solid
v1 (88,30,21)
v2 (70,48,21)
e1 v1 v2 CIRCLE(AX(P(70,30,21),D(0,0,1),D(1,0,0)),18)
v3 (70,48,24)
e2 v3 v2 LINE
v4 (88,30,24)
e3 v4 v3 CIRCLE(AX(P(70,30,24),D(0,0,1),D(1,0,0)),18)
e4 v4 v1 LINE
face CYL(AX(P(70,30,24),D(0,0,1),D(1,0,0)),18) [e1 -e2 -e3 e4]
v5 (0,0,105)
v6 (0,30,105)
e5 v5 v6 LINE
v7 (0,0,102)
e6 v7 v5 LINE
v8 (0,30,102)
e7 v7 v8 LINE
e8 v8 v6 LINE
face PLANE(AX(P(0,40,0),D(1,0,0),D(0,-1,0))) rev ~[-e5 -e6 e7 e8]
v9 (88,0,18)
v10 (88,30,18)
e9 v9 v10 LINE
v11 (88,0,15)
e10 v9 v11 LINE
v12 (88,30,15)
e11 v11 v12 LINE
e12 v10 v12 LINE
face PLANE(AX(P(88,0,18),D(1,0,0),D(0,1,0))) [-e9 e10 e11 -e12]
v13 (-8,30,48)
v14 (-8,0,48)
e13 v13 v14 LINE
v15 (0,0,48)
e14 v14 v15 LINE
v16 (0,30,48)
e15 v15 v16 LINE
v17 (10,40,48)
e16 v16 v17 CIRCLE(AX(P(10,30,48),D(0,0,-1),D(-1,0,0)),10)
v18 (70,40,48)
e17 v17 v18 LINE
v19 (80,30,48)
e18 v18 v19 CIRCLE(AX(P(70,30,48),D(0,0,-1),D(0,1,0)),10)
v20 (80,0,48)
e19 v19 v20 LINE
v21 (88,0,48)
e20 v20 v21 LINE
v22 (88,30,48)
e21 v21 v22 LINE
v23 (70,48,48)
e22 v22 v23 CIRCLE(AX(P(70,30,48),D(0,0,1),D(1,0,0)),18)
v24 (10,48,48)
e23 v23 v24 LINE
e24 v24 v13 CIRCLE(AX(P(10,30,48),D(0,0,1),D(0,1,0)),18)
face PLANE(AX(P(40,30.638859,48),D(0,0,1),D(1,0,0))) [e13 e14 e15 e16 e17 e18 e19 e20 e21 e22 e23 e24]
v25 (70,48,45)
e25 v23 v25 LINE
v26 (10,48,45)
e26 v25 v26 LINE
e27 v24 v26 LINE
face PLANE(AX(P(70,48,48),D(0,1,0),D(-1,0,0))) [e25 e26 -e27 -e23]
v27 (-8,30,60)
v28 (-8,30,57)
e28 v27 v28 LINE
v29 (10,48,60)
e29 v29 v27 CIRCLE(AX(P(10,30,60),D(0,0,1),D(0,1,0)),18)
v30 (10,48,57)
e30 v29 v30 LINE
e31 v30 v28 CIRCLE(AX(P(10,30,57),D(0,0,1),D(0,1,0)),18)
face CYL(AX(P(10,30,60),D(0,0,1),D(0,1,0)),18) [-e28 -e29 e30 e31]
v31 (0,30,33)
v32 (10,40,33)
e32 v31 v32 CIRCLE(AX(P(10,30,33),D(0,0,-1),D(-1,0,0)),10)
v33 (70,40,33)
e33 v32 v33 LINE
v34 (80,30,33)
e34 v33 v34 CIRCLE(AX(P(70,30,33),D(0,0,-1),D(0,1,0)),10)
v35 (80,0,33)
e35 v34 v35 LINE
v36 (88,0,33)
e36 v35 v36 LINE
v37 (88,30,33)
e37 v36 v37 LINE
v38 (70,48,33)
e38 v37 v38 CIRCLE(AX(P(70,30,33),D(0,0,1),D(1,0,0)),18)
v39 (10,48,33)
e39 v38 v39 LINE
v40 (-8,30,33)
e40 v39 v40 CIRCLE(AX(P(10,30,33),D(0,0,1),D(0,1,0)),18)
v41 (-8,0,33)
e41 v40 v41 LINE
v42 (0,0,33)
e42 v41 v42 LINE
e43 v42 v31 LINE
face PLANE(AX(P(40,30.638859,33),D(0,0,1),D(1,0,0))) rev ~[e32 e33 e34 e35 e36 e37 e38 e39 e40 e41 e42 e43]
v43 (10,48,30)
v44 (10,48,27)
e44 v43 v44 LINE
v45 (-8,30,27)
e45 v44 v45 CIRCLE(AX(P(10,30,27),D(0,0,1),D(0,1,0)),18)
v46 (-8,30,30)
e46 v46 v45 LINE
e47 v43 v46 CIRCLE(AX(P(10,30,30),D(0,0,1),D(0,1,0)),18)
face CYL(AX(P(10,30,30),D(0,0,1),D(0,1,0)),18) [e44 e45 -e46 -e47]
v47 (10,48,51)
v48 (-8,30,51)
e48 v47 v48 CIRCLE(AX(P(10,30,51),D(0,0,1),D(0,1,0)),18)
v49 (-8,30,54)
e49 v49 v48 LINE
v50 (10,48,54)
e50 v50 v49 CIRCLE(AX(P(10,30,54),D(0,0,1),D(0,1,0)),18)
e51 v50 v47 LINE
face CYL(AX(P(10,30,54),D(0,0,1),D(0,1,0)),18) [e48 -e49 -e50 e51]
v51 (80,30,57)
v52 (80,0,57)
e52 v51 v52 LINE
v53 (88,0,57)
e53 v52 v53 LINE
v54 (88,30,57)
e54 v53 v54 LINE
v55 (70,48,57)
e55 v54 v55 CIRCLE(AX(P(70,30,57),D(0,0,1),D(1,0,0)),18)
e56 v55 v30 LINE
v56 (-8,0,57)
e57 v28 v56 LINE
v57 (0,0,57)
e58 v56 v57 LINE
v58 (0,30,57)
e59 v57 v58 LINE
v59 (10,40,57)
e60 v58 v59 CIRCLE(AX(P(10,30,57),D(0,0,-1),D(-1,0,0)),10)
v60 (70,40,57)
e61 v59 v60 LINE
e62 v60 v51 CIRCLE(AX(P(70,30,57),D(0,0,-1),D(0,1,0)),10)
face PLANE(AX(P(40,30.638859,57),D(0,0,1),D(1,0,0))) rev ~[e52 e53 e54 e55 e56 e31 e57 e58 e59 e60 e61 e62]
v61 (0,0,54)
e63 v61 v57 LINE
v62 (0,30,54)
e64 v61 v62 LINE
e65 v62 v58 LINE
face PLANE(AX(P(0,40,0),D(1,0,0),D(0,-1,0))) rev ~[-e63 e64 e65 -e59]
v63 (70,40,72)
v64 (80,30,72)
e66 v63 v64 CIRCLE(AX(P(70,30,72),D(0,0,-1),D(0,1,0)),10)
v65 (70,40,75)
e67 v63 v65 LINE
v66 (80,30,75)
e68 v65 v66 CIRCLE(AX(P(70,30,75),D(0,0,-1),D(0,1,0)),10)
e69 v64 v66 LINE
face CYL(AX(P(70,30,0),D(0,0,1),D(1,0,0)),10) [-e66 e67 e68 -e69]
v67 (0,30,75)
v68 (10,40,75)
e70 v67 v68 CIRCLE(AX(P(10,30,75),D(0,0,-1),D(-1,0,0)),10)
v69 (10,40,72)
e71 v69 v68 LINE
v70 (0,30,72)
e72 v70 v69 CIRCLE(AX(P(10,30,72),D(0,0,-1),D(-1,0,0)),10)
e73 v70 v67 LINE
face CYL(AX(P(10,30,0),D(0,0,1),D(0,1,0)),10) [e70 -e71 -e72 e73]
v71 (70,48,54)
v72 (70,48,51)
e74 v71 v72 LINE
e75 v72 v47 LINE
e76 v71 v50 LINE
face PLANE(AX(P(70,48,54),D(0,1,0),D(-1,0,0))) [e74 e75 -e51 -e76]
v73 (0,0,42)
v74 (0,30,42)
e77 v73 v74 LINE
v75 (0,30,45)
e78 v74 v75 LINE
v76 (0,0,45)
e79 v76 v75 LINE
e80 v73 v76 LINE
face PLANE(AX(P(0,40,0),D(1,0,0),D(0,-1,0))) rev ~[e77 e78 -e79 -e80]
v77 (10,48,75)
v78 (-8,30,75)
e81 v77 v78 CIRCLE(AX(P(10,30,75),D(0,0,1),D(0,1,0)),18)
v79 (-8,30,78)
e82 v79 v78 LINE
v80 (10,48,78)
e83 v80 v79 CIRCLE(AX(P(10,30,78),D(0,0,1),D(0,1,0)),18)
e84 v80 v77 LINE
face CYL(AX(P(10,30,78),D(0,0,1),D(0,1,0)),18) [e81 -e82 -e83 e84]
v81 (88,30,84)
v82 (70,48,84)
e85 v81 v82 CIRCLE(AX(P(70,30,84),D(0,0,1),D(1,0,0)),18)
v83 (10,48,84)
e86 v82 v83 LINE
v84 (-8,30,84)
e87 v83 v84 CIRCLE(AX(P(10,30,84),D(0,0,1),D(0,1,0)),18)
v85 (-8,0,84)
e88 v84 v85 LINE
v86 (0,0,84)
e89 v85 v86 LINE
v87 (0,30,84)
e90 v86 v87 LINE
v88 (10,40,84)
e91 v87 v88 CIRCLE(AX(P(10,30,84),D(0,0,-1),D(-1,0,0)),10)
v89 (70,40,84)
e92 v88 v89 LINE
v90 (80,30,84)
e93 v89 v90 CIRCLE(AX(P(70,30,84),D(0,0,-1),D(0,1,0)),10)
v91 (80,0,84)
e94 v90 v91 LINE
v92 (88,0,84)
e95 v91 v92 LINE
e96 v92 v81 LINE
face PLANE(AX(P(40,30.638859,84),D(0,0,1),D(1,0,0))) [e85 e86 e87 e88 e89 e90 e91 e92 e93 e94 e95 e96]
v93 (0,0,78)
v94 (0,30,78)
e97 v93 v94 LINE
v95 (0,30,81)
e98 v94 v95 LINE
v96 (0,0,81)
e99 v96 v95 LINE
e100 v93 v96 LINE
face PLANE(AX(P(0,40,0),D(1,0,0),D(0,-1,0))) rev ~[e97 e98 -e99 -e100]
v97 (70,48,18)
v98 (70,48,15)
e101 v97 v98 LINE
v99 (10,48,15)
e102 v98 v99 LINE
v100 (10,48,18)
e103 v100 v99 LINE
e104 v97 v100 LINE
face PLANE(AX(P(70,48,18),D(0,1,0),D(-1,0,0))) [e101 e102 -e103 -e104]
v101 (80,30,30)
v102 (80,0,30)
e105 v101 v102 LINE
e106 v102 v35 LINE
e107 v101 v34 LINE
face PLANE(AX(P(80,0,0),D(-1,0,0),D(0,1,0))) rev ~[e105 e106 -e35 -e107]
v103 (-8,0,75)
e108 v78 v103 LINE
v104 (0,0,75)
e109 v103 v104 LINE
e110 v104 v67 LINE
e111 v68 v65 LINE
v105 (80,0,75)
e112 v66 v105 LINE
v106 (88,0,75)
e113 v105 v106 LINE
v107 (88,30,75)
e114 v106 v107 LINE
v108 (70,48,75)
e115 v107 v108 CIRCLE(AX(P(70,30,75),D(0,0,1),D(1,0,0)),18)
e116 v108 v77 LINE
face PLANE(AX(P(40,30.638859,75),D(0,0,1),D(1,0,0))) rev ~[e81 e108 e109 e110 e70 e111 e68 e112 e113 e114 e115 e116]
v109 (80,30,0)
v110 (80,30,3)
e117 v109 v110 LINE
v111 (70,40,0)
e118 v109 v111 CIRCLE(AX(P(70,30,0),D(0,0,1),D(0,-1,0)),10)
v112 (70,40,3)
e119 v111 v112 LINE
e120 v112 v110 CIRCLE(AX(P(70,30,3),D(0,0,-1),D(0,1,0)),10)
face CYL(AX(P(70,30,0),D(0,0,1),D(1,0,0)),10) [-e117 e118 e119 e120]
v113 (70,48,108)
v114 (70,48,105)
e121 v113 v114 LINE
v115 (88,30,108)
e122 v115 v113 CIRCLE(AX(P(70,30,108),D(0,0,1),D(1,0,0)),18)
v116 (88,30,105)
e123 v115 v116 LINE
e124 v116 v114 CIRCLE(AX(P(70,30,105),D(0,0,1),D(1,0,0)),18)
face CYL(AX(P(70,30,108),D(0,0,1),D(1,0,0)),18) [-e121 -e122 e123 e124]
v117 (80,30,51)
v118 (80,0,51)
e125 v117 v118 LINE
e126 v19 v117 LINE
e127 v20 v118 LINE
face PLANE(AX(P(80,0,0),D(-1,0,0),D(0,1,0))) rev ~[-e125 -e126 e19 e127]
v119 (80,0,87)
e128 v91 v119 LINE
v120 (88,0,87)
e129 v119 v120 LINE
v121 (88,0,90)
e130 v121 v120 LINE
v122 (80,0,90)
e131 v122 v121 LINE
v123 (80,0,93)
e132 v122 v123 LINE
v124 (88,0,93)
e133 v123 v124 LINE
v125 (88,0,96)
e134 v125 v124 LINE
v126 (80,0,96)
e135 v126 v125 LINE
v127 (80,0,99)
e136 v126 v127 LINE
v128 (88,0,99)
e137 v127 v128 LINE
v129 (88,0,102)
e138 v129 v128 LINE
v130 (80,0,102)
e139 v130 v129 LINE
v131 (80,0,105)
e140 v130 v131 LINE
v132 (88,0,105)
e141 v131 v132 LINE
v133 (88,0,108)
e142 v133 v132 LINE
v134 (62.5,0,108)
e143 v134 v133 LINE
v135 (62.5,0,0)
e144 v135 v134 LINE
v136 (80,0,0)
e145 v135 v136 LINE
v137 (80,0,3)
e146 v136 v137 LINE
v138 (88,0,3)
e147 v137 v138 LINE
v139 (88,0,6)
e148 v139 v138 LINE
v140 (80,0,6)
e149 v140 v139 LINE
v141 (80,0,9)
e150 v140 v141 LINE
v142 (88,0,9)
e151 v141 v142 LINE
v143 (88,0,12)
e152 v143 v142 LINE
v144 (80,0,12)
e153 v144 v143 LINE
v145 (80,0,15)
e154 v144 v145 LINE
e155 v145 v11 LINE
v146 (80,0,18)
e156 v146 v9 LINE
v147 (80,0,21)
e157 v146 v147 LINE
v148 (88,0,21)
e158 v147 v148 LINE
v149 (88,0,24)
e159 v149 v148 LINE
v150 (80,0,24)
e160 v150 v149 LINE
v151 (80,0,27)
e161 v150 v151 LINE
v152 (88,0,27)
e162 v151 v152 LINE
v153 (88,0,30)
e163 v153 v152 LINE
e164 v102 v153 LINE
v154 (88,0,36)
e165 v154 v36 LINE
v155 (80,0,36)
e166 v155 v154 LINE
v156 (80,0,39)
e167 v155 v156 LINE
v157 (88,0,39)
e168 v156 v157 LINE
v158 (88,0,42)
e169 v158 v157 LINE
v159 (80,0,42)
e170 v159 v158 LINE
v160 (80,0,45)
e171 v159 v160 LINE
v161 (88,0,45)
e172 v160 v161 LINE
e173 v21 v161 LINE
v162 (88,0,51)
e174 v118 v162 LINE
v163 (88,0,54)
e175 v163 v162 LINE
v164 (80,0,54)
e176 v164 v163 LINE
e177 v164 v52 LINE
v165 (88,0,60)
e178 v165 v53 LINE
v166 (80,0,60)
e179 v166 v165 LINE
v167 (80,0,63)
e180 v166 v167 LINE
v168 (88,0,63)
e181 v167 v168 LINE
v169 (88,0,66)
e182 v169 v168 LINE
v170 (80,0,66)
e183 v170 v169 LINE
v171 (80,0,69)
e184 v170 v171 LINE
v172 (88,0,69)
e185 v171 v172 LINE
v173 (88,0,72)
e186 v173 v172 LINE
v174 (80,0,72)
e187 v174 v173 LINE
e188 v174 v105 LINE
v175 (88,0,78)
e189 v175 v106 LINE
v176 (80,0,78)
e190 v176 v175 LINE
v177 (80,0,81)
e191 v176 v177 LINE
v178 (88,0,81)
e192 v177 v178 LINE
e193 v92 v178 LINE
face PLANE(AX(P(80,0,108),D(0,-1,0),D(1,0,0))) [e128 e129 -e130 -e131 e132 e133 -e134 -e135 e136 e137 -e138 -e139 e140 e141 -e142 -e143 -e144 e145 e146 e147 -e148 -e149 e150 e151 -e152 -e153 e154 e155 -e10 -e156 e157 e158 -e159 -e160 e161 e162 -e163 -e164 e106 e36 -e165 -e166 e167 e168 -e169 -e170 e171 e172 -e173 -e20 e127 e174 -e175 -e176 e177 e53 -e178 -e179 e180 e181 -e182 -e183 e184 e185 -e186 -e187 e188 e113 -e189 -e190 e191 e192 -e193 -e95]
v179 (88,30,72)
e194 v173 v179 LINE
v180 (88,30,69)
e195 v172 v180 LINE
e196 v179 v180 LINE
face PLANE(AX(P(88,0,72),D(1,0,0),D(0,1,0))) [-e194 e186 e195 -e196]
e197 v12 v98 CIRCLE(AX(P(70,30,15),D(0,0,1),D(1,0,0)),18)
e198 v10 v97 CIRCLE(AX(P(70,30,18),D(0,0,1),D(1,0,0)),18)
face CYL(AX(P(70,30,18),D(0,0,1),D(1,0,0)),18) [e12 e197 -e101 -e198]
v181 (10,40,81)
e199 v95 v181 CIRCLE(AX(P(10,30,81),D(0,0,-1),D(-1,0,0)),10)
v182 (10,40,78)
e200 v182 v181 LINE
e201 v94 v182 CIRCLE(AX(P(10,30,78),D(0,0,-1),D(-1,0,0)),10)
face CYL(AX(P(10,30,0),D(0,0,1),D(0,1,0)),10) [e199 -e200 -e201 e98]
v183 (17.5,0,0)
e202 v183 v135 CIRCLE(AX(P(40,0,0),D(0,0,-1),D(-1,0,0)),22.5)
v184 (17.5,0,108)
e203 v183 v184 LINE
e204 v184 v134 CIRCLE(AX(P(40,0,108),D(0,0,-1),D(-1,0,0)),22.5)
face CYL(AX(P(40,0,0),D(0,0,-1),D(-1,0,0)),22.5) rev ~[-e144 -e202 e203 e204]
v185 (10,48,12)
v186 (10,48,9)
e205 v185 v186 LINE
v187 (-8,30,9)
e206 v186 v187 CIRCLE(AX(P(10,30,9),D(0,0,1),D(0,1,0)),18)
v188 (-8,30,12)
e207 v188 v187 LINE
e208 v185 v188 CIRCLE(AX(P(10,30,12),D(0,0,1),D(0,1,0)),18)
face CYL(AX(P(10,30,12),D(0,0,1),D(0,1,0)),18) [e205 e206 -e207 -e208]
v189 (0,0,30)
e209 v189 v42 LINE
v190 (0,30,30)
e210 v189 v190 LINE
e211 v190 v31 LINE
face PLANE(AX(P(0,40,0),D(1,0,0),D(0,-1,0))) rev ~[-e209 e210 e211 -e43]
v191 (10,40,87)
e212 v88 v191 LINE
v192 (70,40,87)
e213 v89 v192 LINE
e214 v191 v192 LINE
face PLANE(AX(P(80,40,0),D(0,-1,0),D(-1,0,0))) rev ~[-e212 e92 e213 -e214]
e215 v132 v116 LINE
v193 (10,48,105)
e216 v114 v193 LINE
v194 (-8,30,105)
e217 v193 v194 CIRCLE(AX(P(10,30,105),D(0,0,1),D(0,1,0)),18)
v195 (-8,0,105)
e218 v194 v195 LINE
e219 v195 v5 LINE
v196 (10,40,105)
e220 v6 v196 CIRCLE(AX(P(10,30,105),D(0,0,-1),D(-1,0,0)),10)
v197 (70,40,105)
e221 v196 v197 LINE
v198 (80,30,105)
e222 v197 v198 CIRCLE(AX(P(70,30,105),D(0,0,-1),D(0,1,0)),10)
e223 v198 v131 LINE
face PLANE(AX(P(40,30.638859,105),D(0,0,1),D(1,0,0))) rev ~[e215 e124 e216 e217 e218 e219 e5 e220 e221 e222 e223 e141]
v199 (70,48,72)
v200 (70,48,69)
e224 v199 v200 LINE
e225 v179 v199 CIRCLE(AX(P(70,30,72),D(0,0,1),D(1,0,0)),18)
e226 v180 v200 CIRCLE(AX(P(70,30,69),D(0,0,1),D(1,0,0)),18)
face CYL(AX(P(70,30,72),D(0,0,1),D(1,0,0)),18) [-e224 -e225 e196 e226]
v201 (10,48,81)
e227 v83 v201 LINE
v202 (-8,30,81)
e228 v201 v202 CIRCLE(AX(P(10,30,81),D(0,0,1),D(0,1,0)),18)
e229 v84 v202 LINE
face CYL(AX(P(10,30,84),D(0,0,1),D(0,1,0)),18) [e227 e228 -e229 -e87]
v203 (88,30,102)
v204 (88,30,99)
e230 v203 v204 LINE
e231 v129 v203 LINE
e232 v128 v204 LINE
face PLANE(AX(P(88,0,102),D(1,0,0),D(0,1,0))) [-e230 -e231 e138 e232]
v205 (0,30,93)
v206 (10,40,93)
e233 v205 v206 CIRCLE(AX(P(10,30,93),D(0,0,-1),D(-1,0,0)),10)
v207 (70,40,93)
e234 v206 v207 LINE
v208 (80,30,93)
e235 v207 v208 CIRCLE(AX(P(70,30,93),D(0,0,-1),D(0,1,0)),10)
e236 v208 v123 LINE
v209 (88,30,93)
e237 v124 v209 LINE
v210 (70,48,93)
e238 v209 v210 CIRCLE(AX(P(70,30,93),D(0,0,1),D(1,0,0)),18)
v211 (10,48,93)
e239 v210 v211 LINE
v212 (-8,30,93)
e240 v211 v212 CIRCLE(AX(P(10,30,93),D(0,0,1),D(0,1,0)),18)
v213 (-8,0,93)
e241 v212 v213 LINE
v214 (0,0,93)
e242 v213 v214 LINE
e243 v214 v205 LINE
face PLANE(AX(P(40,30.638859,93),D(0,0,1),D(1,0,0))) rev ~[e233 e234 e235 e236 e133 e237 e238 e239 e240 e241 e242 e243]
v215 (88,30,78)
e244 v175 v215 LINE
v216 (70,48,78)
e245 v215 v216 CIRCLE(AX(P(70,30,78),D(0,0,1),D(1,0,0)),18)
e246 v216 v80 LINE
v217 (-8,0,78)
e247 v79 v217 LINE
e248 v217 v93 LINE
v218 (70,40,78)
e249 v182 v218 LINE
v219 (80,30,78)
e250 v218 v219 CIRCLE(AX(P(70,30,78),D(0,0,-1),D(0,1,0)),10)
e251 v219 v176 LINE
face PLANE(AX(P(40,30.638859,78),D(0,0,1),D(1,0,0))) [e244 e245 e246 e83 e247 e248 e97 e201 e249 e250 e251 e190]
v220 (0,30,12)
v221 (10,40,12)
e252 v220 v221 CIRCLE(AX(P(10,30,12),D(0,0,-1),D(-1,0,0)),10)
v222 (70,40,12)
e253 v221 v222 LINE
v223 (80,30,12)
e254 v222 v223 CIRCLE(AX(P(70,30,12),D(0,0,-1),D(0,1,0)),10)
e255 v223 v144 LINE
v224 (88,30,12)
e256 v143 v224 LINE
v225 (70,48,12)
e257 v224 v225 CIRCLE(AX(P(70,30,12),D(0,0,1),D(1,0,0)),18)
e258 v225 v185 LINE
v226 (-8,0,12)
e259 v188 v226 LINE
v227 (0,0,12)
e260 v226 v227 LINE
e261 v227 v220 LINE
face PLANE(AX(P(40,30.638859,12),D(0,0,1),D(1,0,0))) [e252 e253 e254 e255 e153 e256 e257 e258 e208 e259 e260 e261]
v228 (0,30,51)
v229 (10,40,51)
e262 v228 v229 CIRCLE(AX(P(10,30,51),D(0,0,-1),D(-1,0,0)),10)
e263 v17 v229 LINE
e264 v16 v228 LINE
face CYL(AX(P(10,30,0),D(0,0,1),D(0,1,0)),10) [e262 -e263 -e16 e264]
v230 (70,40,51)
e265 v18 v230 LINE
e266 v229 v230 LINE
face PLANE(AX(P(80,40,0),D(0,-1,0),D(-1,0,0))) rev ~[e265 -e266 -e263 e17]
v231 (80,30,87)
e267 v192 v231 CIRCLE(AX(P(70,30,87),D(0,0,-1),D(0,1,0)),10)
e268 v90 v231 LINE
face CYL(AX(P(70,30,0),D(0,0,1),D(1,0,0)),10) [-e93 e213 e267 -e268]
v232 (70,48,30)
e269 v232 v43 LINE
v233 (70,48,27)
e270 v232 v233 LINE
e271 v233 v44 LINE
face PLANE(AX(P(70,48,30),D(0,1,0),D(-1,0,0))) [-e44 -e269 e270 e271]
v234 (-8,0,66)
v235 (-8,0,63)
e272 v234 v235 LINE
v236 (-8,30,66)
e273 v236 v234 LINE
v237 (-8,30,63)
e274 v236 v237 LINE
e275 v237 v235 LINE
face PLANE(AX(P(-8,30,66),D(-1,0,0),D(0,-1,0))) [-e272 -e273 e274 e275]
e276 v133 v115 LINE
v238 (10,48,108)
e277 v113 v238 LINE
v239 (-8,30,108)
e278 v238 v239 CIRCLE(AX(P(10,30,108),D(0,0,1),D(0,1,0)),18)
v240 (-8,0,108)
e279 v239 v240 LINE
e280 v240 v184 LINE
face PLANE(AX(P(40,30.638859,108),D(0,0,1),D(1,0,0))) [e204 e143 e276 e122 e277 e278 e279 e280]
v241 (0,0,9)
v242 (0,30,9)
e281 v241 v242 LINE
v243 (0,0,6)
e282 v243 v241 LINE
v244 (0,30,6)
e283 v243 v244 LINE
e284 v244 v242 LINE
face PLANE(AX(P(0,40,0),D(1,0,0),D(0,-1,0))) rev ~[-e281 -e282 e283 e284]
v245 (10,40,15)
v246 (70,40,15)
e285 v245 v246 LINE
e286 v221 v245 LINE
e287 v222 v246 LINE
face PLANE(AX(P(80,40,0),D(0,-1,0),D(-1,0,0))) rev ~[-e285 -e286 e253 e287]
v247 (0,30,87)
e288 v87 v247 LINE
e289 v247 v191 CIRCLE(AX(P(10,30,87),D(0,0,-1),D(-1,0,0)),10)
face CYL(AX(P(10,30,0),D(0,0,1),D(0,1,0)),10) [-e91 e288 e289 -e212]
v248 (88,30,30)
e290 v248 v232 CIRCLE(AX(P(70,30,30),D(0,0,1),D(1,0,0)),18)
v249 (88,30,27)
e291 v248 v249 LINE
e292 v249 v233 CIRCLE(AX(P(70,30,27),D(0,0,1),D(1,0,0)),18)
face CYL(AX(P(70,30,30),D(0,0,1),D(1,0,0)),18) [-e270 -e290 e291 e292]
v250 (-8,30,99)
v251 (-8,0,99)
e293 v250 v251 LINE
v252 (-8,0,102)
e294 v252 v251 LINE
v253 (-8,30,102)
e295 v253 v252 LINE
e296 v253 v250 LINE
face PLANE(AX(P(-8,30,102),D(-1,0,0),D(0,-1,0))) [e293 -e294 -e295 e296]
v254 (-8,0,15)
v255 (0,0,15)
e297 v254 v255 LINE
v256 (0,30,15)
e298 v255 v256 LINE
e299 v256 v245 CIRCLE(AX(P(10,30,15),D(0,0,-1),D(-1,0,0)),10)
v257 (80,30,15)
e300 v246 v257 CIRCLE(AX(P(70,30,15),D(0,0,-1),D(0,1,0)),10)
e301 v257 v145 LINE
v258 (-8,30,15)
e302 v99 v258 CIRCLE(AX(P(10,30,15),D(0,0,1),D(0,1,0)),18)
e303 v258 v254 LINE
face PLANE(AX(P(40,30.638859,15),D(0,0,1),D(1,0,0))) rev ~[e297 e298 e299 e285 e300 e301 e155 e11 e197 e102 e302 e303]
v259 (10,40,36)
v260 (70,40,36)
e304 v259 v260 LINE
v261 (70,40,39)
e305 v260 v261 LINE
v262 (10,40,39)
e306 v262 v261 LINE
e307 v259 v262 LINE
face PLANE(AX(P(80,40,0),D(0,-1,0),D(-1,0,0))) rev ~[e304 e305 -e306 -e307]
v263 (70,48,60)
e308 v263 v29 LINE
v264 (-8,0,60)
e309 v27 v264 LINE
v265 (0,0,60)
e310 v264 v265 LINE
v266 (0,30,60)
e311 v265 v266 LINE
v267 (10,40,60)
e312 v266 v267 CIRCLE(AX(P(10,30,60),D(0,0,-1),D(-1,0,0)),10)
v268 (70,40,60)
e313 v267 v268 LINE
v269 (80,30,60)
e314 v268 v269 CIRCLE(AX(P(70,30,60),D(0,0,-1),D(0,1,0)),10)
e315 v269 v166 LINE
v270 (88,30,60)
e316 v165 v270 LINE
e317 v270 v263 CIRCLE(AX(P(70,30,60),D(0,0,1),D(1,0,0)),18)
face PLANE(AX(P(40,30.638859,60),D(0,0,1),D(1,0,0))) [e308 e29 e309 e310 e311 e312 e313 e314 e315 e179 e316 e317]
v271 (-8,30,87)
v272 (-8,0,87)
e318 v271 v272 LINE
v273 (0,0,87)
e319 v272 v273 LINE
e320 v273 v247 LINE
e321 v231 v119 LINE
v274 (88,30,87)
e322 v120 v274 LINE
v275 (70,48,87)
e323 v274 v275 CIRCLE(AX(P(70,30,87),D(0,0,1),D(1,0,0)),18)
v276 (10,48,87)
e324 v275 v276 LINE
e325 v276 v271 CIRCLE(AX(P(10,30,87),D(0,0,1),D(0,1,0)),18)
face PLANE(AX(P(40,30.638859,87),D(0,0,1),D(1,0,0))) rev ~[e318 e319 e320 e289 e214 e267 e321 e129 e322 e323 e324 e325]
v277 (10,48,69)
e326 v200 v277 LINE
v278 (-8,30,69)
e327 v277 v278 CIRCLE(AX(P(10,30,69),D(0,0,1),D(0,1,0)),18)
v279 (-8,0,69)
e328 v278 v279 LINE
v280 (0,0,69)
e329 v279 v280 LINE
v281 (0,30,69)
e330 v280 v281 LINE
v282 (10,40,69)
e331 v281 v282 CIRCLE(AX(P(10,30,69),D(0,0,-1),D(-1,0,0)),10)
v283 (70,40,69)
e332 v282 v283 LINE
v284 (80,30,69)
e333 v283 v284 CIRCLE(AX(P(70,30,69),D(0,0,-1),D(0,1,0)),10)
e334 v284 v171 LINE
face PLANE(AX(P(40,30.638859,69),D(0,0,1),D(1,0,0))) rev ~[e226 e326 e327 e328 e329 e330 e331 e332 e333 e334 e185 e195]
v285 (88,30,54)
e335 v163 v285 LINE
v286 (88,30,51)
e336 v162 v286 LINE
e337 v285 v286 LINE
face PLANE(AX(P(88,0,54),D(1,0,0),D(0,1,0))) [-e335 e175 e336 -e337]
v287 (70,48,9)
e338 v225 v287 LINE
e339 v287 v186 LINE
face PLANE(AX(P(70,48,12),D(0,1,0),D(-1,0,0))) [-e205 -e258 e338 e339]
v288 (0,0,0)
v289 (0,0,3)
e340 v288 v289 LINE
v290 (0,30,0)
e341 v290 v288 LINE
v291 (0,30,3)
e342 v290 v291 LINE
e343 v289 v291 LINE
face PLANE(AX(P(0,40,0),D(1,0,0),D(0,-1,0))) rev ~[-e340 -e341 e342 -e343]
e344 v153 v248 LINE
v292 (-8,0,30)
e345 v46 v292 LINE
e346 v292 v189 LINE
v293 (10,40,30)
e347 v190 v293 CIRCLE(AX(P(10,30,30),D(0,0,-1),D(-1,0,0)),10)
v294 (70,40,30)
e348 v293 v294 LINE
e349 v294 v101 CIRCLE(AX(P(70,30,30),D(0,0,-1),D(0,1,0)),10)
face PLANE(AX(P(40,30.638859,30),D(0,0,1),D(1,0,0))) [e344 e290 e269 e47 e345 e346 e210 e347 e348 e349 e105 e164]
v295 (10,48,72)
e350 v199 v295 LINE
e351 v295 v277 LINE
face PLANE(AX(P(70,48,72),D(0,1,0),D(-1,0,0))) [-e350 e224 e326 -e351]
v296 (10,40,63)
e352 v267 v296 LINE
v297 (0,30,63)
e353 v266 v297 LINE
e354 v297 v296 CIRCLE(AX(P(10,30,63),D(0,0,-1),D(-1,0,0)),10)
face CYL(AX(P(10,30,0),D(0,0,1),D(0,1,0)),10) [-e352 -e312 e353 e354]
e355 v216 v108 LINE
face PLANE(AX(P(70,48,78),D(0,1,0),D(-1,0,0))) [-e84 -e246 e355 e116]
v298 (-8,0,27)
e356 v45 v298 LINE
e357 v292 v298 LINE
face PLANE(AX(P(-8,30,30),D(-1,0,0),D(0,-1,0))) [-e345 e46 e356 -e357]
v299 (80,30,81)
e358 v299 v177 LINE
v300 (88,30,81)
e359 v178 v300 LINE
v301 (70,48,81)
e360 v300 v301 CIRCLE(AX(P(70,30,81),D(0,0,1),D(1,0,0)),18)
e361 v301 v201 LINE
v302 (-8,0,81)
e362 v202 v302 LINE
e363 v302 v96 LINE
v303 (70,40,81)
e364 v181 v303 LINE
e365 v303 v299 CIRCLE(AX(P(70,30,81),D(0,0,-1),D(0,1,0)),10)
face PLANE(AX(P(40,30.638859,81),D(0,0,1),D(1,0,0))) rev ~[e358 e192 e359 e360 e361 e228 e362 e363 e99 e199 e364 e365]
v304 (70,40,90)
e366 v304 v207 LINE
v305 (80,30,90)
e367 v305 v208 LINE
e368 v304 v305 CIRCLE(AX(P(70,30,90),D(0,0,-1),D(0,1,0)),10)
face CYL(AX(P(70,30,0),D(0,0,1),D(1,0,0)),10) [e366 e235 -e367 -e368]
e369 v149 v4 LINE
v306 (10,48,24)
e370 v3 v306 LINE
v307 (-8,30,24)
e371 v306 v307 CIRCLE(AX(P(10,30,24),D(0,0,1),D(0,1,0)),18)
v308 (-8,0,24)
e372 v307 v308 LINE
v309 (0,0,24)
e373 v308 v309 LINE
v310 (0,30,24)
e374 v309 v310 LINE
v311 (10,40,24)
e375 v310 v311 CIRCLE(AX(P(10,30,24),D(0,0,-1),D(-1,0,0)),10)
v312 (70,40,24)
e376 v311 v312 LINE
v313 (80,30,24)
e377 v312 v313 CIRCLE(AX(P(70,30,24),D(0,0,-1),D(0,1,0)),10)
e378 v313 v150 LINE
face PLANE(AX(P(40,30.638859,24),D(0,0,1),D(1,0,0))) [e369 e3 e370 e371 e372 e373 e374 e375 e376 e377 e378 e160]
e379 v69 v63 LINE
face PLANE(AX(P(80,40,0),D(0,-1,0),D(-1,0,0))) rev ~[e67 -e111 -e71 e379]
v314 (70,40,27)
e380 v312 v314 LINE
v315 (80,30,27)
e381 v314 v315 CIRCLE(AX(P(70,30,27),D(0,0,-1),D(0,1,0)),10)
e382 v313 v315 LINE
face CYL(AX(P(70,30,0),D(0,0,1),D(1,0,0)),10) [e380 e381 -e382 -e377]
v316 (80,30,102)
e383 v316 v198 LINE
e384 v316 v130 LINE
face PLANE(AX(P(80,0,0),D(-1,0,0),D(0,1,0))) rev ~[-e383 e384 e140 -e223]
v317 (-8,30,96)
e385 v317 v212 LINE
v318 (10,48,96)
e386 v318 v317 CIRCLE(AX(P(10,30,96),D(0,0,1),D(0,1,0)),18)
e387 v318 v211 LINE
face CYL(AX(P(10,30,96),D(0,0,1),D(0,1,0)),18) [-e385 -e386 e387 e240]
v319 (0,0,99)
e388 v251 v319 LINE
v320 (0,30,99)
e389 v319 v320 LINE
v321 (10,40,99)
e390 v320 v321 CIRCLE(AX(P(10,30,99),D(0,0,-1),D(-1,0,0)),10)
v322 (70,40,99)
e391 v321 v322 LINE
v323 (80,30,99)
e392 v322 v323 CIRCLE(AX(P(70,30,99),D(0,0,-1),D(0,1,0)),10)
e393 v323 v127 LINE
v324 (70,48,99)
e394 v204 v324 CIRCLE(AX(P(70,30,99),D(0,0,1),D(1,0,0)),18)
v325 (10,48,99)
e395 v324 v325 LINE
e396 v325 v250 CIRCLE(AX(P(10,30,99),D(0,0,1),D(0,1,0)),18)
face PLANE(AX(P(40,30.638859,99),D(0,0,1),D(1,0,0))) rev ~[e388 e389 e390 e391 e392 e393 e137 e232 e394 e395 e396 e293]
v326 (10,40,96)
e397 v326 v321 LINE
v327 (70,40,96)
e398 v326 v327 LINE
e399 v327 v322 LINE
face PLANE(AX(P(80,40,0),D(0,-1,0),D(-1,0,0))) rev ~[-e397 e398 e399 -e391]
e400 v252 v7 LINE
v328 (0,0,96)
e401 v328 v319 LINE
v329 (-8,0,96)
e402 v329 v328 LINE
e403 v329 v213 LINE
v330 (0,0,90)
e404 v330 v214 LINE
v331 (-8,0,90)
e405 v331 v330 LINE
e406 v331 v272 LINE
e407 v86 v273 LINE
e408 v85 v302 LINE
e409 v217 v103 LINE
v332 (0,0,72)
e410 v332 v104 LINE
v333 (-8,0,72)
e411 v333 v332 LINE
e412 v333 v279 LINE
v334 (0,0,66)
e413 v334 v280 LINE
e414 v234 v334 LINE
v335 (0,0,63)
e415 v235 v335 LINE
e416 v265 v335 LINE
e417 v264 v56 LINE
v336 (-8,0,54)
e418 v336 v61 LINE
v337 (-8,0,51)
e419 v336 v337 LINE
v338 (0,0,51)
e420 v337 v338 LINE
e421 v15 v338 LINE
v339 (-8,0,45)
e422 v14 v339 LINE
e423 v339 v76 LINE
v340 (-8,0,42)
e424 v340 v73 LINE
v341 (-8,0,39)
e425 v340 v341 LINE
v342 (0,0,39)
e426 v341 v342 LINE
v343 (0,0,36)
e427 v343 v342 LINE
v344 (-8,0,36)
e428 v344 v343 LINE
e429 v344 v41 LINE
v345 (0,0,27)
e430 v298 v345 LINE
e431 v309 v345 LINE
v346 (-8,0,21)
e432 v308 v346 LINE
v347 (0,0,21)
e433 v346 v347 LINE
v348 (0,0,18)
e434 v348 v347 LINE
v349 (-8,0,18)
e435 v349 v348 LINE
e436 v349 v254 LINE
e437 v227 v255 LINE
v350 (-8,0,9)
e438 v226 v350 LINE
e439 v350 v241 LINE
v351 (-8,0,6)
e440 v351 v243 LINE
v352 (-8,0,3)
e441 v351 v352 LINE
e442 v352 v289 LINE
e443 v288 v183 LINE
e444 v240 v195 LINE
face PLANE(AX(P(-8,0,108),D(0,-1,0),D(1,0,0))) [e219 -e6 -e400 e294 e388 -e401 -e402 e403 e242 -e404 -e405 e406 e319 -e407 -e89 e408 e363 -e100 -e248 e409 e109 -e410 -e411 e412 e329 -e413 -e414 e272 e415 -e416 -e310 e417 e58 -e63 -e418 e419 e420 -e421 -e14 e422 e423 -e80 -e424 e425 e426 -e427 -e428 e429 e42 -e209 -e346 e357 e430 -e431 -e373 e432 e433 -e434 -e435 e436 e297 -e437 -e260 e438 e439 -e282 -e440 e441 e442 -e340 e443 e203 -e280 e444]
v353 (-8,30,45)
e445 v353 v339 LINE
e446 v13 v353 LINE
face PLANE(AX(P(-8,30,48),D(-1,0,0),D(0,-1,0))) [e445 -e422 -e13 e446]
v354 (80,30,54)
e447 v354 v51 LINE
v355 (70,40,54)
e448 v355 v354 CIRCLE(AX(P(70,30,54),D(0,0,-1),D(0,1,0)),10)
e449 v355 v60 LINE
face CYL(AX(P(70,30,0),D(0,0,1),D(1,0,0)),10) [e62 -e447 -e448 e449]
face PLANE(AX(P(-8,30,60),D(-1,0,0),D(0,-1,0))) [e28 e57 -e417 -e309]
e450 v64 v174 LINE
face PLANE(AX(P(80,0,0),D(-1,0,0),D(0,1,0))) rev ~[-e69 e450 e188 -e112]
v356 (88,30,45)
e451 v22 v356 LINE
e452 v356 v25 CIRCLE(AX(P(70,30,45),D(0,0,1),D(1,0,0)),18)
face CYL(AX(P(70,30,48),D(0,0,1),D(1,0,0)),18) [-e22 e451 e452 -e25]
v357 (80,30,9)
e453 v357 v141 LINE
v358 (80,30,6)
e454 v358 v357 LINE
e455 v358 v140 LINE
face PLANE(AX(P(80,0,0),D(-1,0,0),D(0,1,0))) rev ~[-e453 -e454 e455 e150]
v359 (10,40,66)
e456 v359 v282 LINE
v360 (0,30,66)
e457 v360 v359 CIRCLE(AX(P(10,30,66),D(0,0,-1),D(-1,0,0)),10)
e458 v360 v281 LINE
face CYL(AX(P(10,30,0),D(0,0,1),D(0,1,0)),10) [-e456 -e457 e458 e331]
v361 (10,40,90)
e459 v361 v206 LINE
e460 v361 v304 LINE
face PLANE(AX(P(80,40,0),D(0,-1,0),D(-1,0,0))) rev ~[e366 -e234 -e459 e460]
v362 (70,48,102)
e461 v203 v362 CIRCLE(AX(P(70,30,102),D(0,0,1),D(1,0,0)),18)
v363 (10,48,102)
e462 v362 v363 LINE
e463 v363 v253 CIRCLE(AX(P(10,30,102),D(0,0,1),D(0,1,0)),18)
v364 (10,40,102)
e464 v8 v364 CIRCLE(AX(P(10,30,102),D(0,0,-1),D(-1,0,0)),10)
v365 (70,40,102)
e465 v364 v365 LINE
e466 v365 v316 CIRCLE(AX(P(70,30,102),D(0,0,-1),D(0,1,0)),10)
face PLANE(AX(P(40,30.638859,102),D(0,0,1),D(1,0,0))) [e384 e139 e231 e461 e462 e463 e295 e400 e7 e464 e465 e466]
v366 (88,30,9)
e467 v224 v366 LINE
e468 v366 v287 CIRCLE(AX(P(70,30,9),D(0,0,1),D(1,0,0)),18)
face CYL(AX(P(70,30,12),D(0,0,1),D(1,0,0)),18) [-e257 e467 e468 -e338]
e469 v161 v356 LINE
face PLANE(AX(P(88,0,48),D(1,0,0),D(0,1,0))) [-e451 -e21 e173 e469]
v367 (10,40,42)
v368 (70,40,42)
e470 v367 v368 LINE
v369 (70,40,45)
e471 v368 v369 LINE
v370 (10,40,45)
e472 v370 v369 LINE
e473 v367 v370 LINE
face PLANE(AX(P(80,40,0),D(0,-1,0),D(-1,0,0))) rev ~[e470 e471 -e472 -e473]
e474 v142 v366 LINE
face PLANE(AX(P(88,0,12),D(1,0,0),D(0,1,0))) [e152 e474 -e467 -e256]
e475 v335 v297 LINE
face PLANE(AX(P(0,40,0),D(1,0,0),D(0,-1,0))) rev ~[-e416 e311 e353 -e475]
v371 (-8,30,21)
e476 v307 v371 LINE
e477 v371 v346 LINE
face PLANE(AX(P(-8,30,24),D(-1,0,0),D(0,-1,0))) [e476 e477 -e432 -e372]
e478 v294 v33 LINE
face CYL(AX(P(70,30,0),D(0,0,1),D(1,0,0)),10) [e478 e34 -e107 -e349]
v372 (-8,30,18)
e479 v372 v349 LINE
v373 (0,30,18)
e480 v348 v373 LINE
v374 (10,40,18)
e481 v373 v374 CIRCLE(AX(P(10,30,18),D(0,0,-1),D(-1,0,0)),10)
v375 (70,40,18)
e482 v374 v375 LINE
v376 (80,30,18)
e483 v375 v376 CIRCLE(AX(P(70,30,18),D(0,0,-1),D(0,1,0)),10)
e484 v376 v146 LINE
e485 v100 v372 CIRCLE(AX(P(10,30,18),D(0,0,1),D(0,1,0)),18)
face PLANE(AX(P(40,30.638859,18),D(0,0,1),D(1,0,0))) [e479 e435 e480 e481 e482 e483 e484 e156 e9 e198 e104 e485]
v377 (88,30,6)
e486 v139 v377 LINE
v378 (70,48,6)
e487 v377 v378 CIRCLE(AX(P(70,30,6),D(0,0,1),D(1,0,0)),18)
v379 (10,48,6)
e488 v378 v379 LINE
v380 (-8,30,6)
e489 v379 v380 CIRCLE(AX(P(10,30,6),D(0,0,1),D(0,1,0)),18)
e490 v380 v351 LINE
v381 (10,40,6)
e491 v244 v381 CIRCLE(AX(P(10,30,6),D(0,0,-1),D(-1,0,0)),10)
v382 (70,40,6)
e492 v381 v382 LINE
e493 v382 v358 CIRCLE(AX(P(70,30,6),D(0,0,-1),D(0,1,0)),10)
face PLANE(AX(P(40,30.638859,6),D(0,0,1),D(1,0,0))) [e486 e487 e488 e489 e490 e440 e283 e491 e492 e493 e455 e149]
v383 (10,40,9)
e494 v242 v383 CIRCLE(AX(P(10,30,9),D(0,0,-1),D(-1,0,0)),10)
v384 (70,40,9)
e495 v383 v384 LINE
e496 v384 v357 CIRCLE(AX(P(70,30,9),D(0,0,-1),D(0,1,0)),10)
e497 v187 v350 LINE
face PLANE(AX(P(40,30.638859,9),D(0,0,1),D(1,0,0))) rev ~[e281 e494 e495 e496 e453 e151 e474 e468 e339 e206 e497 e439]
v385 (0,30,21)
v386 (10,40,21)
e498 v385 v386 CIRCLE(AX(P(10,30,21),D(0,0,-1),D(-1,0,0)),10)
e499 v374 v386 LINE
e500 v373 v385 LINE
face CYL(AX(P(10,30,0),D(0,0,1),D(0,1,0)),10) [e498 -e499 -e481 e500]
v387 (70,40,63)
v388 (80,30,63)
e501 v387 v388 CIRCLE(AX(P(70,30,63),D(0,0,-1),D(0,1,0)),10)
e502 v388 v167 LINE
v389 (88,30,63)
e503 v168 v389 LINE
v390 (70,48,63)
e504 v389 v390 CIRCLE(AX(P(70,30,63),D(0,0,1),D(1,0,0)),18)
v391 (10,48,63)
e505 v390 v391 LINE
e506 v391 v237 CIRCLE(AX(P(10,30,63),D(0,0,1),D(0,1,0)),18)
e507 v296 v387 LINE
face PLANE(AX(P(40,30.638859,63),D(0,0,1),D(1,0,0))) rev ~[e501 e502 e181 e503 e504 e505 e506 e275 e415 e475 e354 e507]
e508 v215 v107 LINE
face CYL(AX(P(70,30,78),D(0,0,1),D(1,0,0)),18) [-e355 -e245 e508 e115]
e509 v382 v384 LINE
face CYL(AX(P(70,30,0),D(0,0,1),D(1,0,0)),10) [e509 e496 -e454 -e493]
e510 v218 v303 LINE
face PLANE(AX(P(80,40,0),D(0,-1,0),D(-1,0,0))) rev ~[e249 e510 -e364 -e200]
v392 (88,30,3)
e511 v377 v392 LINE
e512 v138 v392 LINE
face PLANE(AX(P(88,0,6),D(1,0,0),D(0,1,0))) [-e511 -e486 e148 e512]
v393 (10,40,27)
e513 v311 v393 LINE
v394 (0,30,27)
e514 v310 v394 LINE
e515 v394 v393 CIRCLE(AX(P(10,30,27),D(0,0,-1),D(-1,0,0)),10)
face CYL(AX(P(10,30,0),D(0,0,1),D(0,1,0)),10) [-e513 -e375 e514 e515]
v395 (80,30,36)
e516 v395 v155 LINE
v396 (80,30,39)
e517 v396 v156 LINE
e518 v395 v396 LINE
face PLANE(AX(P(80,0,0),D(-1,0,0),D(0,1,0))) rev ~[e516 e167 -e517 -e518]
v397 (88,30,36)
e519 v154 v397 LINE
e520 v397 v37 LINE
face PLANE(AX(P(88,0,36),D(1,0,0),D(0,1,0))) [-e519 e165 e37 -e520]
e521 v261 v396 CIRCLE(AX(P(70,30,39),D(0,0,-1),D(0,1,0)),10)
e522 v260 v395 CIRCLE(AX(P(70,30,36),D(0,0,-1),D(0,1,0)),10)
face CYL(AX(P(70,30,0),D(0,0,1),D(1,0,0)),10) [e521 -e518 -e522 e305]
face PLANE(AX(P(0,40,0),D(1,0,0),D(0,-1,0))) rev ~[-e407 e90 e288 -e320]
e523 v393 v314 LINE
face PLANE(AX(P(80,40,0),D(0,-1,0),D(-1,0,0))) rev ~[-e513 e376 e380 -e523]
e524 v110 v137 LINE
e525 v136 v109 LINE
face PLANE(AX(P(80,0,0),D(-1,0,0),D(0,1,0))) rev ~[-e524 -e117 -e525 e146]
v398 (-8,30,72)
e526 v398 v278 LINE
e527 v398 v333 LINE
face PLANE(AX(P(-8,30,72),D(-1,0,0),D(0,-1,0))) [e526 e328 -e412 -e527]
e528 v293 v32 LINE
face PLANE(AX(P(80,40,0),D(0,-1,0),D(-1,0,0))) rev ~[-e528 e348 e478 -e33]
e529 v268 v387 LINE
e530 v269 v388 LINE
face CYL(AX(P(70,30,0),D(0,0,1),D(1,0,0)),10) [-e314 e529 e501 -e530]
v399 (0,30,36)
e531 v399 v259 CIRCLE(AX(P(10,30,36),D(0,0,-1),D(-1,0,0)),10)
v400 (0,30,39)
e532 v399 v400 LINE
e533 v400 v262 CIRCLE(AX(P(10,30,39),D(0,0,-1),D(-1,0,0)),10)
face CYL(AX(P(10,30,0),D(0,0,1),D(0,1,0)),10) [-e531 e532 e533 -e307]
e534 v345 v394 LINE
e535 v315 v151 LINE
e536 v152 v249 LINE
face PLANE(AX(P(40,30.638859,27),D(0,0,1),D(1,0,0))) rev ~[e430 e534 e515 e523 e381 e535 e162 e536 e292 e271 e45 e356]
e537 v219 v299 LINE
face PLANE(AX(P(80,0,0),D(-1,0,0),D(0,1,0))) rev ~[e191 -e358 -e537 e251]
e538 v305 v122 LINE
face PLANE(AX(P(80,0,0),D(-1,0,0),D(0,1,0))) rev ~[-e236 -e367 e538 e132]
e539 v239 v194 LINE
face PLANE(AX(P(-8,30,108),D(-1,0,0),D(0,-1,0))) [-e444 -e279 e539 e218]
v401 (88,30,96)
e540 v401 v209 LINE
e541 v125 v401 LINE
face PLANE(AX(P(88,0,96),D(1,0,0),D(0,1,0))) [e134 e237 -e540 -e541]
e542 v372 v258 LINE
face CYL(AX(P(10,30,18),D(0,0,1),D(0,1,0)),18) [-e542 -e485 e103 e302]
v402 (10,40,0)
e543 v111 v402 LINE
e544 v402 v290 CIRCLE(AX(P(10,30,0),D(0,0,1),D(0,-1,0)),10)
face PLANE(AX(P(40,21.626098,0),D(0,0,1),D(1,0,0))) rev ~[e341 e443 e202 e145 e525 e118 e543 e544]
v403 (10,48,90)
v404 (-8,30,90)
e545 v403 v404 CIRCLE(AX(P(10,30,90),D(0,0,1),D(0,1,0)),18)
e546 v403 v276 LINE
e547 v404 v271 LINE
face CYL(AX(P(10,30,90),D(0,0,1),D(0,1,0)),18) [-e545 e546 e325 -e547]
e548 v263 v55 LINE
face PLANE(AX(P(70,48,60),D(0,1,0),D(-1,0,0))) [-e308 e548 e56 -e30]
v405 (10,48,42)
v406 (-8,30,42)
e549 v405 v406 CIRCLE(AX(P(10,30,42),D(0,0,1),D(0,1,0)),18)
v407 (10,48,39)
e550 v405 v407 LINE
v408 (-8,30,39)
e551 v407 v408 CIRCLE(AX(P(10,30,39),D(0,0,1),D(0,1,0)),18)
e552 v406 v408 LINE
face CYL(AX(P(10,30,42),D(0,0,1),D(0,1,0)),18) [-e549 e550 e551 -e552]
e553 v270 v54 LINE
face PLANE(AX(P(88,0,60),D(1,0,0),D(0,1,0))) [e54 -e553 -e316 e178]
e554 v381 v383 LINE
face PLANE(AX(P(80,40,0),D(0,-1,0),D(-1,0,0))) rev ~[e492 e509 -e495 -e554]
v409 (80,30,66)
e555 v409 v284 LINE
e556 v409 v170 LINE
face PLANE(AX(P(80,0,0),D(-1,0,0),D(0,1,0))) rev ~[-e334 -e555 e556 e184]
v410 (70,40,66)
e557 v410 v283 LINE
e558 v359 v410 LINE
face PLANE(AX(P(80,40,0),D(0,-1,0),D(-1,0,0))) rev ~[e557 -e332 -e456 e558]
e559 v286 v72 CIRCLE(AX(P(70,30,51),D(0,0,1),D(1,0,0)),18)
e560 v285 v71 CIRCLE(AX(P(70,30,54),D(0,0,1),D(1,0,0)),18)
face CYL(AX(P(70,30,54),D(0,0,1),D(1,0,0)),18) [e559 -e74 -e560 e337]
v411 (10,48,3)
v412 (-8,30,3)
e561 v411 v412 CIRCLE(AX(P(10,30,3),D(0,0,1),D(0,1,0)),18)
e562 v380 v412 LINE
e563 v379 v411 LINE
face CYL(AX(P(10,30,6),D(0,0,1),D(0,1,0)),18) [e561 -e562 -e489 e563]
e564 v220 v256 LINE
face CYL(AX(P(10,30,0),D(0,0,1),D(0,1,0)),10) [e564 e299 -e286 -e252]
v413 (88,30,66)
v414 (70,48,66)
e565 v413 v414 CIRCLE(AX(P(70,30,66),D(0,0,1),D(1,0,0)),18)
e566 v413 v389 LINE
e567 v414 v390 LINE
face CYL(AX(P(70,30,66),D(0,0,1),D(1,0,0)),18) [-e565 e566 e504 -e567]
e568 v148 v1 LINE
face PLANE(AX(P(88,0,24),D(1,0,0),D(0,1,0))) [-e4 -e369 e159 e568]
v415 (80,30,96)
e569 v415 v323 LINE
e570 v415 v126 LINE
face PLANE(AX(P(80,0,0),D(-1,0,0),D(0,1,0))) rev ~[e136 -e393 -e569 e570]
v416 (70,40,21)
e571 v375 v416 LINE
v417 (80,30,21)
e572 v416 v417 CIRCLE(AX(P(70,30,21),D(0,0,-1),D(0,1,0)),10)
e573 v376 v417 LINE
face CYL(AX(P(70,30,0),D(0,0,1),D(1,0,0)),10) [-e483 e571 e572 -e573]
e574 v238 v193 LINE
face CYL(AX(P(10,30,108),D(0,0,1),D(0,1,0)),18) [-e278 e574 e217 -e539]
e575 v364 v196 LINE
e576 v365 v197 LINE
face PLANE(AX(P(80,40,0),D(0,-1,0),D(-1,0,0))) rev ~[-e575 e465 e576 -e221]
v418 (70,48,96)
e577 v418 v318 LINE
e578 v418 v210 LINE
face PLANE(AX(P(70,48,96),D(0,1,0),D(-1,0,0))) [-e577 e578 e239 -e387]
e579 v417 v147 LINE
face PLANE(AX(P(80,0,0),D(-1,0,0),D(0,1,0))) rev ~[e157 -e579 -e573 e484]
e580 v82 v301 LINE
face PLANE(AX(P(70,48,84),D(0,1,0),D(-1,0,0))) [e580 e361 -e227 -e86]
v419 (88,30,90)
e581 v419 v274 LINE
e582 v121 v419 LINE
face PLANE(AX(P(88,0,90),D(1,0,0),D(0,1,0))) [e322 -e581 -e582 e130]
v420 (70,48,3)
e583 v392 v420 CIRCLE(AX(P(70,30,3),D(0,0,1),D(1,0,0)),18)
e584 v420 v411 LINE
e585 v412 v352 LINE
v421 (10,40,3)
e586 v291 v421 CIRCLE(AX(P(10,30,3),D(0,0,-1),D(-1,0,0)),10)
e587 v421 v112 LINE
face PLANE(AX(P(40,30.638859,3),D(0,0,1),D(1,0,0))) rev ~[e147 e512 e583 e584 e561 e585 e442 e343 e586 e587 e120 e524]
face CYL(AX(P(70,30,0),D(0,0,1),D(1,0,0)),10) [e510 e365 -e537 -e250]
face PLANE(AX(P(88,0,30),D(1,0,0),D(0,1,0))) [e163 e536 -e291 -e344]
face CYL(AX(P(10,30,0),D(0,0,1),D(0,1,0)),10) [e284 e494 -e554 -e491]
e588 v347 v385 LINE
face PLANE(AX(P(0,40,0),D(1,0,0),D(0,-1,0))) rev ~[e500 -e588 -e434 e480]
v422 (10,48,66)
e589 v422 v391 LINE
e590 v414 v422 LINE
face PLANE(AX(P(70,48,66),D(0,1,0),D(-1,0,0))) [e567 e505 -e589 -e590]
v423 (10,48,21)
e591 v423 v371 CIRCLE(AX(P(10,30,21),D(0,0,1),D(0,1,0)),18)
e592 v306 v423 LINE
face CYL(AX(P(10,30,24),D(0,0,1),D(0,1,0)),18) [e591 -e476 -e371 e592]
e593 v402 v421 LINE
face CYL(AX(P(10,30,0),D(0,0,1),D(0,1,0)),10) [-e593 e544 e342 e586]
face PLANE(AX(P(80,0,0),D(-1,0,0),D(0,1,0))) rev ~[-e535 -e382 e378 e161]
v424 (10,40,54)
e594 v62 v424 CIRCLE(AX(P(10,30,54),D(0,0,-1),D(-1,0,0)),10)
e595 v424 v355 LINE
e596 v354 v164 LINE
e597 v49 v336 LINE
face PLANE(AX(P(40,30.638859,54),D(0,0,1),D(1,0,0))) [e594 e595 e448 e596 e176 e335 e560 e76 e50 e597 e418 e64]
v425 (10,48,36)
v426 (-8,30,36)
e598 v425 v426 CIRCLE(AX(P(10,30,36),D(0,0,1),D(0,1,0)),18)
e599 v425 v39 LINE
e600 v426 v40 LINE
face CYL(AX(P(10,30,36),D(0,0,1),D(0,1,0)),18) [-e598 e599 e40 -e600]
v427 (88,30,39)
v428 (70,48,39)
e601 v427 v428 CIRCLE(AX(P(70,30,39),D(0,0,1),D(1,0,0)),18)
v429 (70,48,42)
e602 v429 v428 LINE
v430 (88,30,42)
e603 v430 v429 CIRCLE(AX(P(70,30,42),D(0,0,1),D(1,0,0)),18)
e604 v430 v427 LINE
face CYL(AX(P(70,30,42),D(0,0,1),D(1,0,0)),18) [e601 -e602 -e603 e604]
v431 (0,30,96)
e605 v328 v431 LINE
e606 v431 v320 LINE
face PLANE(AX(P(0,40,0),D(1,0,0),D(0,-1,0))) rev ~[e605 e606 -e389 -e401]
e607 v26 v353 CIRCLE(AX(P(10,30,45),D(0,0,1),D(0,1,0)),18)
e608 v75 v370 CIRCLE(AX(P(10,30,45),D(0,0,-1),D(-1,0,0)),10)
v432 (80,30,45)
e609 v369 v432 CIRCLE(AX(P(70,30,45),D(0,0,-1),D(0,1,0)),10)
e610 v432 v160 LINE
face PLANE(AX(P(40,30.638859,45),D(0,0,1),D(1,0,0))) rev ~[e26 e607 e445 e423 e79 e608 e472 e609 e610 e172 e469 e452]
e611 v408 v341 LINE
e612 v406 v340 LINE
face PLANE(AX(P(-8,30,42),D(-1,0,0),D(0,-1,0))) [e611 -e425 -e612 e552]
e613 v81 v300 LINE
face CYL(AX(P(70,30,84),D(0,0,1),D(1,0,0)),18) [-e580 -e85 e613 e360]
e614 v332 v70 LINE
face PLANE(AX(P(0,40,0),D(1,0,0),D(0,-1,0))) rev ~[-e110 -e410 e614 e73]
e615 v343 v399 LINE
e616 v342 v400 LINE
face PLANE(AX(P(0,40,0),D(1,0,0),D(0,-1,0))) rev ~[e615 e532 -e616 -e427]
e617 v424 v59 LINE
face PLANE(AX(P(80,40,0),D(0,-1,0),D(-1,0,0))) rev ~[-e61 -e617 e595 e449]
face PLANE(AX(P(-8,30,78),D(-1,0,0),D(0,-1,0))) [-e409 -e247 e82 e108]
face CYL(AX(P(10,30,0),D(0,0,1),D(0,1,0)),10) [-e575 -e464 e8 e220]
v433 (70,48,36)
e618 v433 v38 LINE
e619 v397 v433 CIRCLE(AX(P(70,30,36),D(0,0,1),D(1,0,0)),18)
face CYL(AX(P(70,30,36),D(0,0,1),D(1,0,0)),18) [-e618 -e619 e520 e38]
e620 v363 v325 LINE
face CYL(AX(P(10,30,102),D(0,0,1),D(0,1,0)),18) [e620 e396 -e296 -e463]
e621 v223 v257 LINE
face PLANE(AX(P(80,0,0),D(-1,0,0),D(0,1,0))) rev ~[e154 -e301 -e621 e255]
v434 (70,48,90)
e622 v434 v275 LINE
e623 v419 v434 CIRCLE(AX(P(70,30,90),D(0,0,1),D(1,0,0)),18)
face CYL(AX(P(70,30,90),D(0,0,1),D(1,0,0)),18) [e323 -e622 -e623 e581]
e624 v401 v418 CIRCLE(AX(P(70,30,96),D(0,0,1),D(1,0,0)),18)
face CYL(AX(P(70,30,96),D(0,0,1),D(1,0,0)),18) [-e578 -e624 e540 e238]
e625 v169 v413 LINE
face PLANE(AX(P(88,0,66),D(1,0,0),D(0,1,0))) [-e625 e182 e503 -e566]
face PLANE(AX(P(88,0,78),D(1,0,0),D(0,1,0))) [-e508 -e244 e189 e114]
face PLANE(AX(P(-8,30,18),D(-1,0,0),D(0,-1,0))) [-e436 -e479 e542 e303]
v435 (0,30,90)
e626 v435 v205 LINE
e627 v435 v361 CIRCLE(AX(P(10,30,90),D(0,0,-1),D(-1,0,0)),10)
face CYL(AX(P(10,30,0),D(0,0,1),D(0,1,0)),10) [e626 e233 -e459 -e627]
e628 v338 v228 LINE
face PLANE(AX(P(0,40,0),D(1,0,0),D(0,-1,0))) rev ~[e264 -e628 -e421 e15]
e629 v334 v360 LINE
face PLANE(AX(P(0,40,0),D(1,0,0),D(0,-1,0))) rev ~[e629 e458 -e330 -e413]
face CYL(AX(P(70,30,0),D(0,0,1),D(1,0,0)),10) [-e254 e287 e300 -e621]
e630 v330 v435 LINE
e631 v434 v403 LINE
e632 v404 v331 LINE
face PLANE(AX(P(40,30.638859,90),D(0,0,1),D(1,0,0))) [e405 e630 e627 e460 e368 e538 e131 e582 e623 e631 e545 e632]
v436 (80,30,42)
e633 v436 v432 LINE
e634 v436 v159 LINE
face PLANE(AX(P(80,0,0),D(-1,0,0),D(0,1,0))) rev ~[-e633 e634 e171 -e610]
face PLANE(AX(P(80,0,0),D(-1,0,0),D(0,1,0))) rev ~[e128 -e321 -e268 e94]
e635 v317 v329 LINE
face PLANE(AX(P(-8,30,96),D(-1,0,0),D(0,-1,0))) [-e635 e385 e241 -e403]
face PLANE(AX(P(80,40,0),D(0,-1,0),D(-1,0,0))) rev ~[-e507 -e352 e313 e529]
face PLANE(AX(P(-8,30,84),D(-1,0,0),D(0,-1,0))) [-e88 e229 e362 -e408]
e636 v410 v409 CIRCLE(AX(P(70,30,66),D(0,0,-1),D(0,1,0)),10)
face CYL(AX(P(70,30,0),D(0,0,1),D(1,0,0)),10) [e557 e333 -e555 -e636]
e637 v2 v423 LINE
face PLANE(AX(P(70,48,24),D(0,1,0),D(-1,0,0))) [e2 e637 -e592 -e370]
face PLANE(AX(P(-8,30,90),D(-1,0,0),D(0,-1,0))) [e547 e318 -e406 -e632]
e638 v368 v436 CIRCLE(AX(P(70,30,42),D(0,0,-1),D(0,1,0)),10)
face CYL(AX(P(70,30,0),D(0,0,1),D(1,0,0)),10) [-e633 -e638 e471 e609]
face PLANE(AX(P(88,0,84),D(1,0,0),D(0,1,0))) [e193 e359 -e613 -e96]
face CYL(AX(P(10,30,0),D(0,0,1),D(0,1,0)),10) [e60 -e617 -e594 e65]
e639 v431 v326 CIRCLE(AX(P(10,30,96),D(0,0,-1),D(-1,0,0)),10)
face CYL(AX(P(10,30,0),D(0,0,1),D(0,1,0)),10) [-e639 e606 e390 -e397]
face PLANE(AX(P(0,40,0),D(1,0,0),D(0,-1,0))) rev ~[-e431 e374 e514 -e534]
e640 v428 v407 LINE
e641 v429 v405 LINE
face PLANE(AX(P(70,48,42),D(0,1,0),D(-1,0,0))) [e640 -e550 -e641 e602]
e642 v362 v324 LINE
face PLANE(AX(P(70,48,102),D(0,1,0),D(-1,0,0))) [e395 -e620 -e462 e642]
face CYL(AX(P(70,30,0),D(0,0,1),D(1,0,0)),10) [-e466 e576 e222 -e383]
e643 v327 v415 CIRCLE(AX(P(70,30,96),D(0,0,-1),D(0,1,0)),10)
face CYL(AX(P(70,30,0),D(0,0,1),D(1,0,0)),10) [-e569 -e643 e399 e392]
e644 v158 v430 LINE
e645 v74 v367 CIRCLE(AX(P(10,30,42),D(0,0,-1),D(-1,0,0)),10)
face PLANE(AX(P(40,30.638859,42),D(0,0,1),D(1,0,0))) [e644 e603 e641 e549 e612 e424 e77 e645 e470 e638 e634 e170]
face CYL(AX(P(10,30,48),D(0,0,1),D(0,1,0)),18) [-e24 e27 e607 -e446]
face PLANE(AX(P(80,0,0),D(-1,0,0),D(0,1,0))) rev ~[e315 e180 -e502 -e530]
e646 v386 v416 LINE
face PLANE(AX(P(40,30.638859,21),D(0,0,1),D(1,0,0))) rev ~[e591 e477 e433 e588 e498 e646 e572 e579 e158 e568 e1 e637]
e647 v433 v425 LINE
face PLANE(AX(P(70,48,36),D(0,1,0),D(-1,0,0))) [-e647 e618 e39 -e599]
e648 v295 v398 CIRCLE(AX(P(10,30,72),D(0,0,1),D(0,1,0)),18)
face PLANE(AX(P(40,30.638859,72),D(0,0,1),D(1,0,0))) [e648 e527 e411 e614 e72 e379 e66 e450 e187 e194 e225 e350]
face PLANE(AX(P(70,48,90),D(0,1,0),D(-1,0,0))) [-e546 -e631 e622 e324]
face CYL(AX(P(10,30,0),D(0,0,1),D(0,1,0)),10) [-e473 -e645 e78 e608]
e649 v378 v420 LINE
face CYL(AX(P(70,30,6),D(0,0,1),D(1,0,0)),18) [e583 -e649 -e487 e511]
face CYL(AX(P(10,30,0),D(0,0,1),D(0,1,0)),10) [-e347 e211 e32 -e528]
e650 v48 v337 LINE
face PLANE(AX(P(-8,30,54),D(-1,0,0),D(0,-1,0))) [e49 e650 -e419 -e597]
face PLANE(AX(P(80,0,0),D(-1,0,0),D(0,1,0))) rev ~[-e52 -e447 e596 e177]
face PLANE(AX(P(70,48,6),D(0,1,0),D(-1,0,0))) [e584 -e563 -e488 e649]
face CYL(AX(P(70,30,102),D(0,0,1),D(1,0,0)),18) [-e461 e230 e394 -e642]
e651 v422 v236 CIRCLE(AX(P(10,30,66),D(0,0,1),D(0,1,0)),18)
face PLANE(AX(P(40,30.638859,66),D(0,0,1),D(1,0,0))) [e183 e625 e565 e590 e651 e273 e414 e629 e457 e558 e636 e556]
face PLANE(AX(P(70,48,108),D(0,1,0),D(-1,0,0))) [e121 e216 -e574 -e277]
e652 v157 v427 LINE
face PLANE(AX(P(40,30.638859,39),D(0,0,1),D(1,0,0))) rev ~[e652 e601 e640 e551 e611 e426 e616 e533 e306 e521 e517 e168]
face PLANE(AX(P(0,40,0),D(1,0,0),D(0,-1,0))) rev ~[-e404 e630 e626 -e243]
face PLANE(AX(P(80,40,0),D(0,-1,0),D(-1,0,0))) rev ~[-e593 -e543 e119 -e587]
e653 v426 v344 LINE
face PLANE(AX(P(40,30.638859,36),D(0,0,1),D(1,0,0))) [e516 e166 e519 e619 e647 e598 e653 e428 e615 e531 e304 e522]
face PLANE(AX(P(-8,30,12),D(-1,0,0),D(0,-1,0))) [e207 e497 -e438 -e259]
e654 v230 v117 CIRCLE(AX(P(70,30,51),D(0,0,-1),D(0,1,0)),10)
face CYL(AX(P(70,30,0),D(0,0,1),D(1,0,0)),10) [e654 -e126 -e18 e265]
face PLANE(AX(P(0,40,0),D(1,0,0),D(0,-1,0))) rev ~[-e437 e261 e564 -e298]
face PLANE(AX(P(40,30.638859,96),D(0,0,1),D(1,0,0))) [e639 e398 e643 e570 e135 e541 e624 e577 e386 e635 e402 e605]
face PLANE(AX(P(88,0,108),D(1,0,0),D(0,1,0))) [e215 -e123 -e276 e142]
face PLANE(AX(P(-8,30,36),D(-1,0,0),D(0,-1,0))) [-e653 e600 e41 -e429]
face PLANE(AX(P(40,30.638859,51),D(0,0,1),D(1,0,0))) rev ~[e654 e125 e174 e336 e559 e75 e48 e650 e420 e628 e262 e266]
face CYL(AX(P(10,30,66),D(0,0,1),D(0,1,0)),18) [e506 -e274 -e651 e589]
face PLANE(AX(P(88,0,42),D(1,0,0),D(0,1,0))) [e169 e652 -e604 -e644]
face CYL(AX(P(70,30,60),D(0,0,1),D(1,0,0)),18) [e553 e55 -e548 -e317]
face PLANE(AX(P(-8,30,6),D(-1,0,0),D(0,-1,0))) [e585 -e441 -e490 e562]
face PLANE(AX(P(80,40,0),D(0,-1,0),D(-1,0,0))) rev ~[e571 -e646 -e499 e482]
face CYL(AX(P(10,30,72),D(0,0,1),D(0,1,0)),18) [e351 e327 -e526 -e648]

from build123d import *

# Parameters (mm, degrees)
DODANIE_WYCI_GNI_CIE1_DEPTH = 108
ZAOKR_GLENIE3_R             = 10
ZAOKR_GLENIE4_R             = 10
DODANIE_WYCI_GNI_CIE2_DEPTH = 3
SZYK_LINIOWY1_COUNT         = 18
SZYK_LINIOWY1_PITCH         = 6


with BuildPart() as part:
    # Szkic1 → Dodanie-wyciągnięcie1 (new body)
    with BuildSketch(Plane.XY):
        with BuildLine():
            Line((62.5, 0), (80, 0))
            Line((80, 0), (80, 40))
            Line((80, 40), (0, 40))
            Line((0, 40), (0, 0))
            Line((0, 0), (17.5, 0))
            ThreePointArc((17.5, 0), (40, 22.5), (62.5, 0))
        make_face()
    extrude(amount=DODANIE_WYCI_GNI_CIE1_DEPTH)

    # Zaokrąglenie3
    zaokr_glenie3_edges = [part.edges().sort_by_distance(p)[0] for p in [
        (80, 40, 54),
    ]]
    fillet(zaokr_glenie3_edges, radius=ZAOKR_GLENIE3_R)

    # Zaokrąglenie4
    zaokr_glenie4_edges = [part.edges().sort_by_distance(p)[0] for p in [
        (0, 40, 54),
    ]]
    fillet(zaokr_glenie4_edges, radius=ZAOKR_GLENIE4_R)

    # Szkic3 → Dodanie-wyciągnięcie2 (add)
    with BuildSketch(Plane.XY.offset(108)):
        with BuildLine():
            Line((70, 48), (10, 48))
            ThreePointArc((10, 48), (-2.727922061, 42.727922061), (-8, 30))
            Line((-8, 30), (-8, 8))
            Line((-8, 8), (-8, 0))
            Line((-8, 0), (0, 0))
            Line((0, 0), (0, 30))
            ThreePointArc((0, 30), (2.928932188, 37.071067812), (10, 40))
            Line((10, 40), (70, 40))
            ThreePointArc((70, 40), (77.071067812, 37.071067812), (80, 30))
            Line((80, 30), (80, 0))
            Line((80, 0), (88, 0))
            Line((88, 0), (88, 8))
            Line((88, 8), (88, 30))
            ThreePointArc((88, 30), (82.727922061, 42.727922061), (70, 48))
        make_face()
    dodanie_wyci_gni_cie2 = extrude(amount=-DODANIE_WYCI_GNI_CIE2_DEPTH)

    # Szyk liniowy1: Dodanie-wyciągnięcie2 ×18
    with Locations(*[(0, 0, -i * SZYK_LINIOWY1_PITCH) for i in range(1, SZYK_LINIOWY1_COUNT)]):
        add(dodanie_wyci_gni_cie2)


solid = part.part
